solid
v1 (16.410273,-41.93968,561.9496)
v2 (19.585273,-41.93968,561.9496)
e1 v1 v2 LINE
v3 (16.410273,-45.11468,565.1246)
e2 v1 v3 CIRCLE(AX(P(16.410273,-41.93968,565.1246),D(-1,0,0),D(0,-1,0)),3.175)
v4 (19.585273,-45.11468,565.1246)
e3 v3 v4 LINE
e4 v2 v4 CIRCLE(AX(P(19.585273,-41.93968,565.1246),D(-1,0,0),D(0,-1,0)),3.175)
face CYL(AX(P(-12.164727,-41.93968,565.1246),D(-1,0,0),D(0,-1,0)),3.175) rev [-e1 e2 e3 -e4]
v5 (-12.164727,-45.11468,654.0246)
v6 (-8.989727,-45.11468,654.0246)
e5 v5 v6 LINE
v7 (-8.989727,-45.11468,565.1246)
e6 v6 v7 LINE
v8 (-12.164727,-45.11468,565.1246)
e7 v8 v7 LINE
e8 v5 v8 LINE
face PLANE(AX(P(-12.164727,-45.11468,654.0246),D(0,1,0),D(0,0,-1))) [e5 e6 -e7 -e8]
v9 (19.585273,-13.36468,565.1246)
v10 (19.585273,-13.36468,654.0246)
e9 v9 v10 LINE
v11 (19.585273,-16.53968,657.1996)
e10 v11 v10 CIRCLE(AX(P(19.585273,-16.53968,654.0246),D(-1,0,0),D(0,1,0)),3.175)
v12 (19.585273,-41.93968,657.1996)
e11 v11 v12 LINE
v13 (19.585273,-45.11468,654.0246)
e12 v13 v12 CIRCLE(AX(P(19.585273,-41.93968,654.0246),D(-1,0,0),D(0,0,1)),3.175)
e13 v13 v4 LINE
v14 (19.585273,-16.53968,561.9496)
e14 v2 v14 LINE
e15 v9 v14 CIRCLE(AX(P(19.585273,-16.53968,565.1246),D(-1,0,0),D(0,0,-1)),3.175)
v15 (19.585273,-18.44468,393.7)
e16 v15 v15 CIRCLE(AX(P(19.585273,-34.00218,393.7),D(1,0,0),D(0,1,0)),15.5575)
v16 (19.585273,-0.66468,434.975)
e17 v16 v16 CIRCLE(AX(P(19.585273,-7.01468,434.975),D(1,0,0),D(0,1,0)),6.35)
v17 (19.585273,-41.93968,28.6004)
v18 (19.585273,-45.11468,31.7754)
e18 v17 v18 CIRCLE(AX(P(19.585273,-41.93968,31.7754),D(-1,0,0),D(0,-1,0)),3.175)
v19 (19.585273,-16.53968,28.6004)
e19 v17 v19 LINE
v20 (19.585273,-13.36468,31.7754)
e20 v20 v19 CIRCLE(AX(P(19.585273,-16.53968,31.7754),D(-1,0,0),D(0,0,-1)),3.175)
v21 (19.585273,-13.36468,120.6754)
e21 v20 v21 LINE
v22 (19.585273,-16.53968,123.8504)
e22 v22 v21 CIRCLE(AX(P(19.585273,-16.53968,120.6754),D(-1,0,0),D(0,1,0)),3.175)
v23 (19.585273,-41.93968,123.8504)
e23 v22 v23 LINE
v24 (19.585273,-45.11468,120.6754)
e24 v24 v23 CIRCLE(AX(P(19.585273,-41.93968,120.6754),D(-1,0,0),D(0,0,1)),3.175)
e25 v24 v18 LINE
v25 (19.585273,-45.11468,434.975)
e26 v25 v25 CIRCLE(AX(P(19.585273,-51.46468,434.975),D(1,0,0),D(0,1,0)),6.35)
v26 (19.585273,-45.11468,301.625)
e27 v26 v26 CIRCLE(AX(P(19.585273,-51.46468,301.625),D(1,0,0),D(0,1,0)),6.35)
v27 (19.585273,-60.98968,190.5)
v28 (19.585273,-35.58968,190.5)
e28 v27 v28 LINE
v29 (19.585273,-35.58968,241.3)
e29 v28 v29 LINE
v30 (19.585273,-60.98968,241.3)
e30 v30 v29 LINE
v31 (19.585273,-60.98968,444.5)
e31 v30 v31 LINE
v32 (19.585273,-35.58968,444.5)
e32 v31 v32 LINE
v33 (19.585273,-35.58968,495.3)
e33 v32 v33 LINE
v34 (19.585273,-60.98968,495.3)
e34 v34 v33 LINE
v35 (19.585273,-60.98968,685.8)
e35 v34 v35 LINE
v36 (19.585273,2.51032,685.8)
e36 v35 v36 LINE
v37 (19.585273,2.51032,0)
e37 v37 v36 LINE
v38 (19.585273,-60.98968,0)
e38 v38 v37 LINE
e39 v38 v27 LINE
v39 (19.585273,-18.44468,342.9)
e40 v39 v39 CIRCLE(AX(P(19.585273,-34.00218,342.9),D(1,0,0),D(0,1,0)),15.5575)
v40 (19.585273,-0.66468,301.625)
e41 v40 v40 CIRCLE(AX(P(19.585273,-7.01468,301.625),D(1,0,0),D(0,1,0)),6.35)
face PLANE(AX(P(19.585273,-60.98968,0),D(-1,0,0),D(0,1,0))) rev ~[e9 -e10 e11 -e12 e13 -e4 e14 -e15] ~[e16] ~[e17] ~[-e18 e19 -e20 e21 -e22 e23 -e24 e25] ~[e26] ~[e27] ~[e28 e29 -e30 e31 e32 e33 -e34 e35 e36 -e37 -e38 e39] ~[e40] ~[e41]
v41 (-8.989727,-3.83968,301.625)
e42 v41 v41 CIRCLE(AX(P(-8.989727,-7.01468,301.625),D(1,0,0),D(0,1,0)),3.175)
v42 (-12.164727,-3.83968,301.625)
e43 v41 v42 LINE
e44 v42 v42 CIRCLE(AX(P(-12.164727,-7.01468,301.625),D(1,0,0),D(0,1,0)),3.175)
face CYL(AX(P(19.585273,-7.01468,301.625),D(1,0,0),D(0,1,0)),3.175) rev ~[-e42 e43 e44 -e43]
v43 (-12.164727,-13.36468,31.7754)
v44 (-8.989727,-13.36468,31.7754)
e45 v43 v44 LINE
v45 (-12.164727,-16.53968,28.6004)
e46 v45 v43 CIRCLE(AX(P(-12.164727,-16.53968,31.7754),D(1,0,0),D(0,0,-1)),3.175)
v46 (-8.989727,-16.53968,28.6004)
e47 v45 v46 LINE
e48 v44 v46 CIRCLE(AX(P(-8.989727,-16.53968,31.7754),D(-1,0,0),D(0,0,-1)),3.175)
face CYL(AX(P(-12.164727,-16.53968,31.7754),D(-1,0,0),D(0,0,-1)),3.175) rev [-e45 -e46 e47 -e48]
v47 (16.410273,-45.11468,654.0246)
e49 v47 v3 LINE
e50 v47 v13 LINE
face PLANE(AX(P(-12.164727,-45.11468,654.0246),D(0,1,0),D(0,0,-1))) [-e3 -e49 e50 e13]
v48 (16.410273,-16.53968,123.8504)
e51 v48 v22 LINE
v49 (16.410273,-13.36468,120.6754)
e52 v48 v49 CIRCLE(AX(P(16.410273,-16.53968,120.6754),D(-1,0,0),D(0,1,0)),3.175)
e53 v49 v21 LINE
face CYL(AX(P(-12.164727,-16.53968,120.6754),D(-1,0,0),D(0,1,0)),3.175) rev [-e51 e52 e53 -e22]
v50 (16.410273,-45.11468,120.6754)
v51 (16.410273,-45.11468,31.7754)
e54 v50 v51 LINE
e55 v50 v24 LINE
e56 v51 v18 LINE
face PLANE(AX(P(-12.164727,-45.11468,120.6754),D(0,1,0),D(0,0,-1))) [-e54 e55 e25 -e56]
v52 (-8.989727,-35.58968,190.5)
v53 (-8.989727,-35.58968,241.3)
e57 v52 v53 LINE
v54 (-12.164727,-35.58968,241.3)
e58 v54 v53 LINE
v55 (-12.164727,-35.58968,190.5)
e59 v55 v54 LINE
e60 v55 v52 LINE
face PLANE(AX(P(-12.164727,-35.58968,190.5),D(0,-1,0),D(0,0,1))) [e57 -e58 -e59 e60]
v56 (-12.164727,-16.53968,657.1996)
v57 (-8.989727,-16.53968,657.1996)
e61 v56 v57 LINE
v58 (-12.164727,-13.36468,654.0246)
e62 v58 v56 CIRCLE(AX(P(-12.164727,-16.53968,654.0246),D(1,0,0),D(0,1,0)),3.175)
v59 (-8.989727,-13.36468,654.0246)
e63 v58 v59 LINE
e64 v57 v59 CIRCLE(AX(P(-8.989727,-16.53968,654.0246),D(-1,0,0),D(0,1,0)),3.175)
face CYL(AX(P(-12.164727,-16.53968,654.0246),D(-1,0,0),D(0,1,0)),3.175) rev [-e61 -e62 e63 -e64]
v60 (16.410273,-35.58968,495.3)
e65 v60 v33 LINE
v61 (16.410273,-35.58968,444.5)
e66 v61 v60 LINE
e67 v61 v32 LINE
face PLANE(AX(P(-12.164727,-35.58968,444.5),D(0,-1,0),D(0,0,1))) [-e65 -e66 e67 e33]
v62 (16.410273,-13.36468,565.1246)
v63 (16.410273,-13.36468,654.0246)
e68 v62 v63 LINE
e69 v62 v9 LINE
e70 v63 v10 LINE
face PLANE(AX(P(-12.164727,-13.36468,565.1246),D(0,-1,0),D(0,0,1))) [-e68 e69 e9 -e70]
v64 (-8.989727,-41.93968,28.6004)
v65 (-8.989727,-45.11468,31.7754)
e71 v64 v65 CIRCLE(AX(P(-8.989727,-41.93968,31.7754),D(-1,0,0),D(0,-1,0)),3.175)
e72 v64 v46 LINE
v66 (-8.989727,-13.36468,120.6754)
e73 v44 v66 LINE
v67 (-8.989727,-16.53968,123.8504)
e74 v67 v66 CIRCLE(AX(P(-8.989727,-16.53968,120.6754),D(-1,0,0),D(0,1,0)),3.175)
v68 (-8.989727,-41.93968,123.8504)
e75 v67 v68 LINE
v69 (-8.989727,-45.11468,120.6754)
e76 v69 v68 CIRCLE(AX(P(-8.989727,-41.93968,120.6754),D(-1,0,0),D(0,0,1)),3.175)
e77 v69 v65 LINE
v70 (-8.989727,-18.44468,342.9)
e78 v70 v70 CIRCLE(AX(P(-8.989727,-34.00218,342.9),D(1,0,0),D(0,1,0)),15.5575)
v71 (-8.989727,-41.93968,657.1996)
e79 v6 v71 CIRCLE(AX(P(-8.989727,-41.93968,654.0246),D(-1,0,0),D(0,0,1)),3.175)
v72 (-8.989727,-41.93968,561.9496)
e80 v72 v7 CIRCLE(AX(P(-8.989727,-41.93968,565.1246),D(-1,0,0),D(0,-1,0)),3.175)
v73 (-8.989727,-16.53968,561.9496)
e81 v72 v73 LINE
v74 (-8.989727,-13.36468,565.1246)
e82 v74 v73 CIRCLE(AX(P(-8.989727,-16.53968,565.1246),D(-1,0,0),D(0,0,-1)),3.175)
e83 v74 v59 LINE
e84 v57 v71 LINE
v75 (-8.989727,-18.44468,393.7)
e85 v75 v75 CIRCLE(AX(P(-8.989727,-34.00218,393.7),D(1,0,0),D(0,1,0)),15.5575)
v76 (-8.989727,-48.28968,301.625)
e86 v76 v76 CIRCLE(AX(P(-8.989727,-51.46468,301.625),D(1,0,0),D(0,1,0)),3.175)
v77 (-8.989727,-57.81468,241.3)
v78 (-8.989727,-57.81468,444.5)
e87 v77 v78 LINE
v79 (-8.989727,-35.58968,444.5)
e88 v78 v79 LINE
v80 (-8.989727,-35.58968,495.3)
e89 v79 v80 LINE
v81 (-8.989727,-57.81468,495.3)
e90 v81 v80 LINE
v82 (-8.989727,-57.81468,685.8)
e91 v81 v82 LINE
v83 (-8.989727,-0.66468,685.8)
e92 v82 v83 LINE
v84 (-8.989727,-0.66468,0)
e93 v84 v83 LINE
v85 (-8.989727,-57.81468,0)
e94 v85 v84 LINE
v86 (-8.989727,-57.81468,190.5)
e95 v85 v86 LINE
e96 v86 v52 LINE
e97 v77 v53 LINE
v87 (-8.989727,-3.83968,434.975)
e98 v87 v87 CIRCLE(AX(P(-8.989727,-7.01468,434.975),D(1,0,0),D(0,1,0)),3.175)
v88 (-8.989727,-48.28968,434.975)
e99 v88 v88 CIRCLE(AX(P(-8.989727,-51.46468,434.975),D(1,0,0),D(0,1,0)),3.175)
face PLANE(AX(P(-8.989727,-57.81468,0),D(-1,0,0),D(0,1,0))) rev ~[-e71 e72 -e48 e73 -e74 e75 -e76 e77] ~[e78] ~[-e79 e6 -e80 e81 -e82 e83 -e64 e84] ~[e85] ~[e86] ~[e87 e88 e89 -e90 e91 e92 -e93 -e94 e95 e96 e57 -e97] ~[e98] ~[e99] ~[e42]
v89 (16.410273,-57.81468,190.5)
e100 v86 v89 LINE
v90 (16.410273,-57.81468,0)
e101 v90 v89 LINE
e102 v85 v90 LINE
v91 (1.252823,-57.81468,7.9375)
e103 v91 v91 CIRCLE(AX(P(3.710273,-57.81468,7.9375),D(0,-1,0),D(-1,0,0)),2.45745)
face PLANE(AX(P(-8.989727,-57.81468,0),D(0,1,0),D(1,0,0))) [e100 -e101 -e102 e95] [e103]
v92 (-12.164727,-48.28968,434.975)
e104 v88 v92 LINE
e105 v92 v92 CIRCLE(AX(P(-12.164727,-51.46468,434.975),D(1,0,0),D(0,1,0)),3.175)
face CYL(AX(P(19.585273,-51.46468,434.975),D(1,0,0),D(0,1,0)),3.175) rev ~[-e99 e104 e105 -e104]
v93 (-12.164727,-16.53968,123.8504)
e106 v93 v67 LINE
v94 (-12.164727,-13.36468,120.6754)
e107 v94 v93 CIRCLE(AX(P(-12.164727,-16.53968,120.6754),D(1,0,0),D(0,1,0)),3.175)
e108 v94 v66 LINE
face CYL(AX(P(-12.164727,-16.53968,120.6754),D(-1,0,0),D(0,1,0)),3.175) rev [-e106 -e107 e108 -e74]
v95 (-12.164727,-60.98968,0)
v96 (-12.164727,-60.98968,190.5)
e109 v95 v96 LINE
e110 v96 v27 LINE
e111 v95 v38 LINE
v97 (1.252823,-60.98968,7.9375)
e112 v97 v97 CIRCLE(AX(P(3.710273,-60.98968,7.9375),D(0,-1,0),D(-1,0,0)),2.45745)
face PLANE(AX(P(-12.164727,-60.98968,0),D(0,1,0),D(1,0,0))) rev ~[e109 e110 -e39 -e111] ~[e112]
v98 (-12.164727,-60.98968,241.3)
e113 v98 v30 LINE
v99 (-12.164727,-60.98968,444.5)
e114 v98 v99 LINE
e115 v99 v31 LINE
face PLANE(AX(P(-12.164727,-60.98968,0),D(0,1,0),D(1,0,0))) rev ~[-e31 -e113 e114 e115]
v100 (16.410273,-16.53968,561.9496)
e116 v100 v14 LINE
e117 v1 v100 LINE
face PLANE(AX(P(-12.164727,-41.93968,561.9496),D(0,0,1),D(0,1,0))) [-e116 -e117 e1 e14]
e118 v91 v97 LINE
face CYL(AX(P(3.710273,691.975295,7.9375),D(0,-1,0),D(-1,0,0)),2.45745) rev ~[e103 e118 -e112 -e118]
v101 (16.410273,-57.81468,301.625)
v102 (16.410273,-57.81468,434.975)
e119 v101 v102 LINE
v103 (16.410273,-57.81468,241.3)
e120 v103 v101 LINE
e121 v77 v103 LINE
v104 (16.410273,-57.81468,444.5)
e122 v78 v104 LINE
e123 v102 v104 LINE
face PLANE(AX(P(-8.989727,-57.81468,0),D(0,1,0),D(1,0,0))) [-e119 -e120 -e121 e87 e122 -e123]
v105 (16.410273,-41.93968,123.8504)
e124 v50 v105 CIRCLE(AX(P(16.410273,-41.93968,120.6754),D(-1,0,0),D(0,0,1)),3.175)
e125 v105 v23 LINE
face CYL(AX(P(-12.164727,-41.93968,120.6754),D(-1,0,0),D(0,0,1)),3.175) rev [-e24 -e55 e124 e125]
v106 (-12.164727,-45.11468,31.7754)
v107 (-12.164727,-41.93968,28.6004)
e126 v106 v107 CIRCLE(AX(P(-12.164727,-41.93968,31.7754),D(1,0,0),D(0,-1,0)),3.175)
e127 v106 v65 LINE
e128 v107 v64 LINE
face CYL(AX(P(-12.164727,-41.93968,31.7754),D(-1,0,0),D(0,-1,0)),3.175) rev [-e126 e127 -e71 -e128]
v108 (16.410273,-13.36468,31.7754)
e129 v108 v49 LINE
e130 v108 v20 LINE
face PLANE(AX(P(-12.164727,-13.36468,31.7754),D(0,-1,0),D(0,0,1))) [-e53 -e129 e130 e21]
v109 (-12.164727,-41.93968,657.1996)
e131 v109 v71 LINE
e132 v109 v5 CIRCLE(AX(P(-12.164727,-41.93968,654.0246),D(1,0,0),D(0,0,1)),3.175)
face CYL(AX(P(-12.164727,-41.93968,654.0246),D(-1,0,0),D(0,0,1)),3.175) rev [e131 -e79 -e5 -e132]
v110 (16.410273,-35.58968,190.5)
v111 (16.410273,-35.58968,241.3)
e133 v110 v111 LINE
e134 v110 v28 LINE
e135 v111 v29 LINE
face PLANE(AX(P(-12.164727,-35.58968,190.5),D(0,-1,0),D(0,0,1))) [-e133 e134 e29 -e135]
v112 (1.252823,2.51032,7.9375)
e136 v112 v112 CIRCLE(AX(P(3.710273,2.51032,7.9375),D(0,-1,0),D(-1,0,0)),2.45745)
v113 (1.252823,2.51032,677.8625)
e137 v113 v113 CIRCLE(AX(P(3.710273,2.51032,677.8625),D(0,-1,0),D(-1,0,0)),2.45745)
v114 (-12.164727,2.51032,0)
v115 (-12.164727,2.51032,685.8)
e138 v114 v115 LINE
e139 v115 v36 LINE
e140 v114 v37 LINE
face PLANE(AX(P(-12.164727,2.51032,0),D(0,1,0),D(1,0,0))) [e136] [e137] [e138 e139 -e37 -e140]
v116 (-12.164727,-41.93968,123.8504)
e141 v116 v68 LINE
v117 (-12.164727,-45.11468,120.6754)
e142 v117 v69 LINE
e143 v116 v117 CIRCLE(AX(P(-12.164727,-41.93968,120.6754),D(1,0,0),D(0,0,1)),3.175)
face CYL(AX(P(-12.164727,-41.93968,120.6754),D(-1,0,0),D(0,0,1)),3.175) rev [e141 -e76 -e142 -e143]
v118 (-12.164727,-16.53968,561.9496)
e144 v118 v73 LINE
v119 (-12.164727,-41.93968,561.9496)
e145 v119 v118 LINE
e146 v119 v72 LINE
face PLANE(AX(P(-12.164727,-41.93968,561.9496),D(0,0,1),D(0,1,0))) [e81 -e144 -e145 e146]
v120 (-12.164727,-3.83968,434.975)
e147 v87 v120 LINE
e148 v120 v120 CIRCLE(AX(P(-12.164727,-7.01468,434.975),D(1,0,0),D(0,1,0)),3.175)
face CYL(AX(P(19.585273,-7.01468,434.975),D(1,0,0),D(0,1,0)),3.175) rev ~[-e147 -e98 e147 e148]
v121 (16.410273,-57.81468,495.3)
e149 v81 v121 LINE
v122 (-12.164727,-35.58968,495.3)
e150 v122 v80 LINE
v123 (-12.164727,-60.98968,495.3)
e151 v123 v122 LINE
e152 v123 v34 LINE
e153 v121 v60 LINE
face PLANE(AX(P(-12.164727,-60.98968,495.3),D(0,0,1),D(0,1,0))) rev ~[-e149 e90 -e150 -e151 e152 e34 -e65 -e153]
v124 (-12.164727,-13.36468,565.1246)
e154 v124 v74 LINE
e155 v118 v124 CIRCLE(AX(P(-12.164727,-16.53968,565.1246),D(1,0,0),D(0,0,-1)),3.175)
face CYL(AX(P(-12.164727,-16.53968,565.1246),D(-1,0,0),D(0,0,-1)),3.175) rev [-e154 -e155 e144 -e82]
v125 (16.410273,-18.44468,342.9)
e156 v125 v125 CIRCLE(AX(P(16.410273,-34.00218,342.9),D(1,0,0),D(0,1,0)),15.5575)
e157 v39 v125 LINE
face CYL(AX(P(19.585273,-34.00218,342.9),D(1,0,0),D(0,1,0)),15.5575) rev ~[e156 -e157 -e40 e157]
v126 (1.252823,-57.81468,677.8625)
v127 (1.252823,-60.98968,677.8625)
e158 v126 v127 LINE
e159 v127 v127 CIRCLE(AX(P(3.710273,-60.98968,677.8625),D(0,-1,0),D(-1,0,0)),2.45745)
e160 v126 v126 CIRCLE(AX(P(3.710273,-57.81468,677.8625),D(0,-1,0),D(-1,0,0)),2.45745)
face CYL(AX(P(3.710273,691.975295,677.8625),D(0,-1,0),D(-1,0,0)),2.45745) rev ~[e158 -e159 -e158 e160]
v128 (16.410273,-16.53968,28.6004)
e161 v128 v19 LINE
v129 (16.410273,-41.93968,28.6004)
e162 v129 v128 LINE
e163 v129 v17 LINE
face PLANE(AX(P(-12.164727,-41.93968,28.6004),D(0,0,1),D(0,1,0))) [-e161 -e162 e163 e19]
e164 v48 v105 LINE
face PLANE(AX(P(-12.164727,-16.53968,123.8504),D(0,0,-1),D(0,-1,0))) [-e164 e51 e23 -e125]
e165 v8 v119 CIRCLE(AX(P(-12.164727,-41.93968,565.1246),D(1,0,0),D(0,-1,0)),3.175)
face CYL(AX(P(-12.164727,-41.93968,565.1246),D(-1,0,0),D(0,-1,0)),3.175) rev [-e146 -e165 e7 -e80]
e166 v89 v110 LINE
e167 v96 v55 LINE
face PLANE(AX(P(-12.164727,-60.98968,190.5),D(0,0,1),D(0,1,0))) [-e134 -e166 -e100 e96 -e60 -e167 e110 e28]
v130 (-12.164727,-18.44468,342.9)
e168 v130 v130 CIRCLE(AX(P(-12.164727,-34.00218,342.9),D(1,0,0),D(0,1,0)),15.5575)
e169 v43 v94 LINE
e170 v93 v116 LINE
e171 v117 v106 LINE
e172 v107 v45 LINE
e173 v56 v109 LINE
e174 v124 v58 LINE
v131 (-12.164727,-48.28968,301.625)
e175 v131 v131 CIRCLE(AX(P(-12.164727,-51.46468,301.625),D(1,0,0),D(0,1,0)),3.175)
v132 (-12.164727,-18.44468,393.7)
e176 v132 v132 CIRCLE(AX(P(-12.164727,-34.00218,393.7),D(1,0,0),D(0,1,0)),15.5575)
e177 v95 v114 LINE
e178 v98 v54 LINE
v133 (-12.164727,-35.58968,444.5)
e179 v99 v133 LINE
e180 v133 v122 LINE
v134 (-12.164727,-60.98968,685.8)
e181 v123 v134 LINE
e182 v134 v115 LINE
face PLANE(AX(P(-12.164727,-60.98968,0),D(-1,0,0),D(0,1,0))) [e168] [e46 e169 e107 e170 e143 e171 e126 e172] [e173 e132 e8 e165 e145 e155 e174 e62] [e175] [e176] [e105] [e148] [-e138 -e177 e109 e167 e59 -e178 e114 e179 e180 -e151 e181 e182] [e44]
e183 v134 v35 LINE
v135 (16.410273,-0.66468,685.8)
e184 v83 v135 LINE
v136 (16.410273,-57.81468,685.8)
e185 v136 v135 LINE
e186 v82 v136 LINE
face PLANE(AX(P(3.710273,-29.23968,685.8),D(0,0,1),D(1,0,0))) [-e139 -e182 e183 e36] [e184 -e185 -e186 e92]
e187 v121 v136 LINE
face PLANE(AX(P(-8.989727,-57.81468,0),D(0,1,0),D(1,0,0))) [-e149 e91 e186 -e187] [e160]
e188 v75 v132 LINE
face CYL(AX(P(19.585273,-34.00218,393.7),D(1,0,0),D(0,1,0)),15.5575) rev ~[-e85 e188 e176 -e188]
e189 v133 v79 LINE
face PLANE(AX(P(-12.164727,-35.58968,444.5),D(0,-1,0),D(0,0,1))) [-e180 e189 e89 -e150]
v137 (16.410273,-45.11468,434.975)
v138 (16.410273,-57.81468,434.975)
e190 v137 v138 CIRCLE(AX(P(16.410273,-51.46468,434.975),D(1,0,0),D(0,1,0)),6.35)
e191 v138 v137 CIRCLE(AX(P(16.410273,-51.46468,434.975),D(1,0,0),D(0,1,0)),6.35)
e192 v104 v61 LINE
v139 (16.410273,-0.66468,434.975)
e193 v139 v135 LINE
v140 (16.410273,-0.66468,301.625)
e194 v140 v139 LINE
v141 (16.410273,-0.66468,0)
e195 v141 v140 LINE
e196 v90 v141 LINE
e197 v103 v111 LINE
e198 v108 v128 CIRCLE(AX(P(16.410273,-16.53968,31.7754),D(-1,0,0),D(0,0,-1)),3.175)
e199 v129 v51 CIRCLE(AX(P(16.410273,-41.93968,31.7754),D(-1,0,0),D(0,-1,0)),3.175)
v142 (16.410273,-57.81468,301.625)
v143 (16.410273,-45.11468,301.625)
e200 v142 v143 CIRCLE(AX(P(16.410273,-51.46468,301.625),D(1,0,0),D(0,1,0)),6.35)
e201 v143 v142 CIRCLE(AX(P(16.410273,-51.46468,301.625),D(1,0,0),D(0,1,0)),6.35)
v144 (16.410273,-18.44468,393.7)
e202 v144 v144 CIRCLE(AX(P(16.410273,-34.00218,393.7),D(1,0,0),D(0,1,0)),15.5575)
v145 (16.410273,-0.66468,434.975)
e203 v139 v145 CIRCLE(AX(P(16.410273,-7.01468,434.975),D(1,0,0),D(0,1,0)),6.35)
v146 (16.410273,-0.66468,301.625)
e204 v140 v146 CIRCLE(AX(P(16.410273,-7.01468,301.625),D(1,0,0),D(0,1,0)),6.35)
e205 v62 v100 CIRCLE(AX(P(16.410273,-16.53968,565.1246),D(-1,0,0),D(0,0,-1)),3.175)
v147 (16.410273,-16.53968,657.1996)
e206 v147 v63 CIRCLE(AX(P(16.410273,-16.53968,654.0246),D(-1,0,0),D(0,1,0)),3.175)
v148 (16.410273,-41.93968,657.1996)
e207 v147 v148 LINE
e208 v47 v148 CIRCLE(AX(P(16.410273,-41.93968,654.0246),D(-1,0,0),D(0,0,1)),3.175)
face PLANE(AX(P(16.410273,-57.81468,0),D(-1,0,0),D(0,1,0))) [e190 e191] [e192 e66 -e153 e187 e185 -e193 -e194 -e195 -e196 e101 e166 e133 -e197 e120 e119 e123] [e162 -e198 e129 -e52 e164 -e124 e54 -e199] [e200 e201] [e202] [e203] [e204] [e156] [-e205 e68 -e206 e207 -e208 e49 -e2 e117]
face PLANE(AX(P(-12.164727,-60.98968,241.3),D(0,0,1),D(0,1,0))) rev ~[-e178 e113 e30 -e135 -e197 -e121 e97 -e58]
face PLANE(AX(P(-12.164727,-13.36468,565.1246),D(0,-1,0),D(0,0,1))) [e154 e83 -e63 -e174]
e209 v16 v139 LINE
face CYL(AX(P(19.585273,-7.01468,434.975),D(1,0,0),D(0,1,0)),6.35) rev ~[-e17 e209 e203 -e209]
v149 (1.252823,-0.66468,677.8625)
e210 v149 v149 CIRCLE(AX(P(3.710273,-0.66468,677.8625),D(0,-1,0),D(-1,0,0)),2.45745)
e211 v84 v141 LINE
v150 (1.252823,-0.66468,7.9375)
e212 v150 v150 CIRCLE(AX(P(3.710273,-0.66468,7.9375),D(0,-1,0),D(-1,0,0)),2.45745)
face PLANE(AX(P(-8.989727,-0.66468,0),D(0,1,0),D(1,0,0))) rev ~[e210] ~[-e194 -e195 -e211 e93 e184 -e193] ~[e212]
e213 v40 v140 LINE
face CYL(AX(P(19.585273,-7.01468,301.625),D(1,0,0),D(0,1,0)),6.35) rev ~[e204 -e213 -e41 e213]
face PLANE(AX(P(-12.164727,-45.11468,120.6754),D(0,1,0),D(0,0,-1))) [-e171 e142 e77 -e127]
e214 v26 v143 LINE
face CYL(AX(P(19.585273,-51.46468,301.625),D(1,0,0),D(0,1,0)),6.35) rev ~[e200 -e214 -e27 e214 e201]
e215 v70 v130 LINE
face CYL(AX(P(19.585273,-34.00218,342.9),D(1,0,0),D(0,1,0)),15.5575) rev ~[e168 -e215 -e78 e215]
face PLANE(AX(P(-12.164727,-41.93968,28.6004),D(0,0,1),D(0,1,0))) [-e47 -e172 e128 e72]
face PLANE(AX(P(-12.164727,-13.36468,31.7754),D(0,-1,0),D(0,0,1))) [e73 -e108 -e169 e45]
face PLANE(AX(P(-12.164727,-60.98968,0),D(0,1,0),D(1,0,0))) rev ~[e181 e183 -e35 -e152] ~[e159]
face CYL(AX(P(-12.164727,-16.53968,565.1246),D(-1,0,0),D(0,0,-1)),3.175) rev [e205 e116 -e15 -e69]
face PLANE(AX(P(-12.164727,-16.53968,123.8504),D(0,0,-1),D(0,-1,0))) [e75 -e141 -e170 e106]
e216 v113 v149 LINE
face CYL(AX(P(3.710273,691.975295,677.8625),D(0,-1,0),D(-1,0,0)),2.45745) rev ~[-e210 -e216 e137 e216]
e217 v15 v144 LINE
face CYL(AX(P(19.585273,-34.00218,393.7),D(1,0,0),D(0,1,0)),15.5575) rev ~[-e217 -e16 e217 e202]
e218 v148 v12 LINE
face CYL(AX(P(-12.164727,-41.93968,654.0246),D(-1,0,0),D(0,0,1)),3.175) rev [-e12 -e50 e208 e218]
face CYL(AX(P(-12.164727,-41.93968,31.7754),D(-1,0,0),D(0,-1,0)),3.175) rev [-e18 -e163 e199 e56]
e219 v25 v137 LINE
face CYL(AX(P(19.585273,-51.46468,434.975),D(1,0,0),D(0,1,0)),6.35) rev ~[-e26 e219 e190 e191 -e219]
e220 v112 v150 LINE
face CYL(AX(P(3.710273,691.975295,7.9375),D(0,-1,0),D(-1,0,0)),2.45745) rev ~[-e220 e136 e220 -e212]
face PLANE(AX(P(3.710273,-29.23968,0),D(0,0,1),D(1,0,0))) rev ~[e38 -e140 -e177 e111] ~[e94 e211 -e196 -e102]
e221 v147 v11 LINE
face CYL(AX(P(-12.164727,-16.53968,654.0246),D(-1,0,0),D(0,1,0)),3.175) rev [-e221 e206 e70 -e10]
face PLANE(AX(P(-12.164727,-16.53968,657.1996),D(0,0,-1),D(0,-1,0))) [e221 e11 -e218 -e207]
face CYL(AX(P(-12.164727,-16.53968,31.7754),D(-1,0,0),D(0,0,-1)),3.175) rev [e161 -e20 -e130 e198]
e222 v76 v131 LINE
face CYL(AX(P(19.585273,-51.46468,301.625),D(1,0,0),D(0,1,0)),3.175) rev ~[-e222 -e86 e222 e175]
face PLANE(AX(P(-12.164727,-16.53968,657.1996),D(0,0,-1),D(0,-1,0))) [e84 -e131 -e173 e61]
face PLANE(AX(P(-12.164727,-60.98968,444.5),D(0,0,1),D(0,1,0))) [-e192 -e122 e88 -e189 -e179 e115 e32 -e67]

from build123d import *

# Parameters (mm, degrees)
SKETCH1_W                    = 31.75
SKETCH1_H                    = 63.5
SKETCH1_W_2                  = 25.4
SKETCH1_H_2                  = 57.15
BOSS_EXTRUDE1_DEPTH          = 685.8
CUT_EXTRUDE1_REACH           = 691.238
SKETCH3_W                    = 50.8
SKETCH3_H                    = 25.4
F_10_0_1935_DIAMETER_HOLE1_D = 4.9149
CUT_EXTRUDE2_REACH           = 691.238
SKETCH6_R                    = 15.5575
SKETCH6_R_2                  = 3.175
CUT_EXTRUDE3_REACH           = 691.238
SKETCH7_R                    = 6.35


with BuildPart() as part:
    # Sketch1 → Boss-Extrude1 (new body)
    with BuildSketch(Plane.XY):
        with Locations((3.710272719, -29.23968021)):
            Rectangle(SKETCH1_W, SKETCH1_H)
        with Locations((3.710272719, -29.23968021)):
            Rectangle(SKETCH1_W_2, SKETCH1_H_2, mode=Mode.SUBTRACT)
    extrude(amount=BOSS_EXTRUDE1_DEPTH)

    # Cut-Extrude1: up to this face of the body (flat: up to its plane)
    cut_extrude1_end = Plane(part.part.faces().sort_by_distance((19.585272719, -29.23968021, 342.9))[0])
    # Sketch3 → Cut-Extrude1 (cut, up to the picked face)
    with BuildSketch(Plane.ZY.offset(12.164727281), mode=Mode.PRIVATE) as cut_extrude1_sk1:
        with BuildLine():
            Line((31.7754, -13.36468021), (120.6754, -13.36468021))
            ThreePointArc((120.6754, -13.36468021), (122.92046403, -14.294616179), (123.8504, -16.53968021))
            Line((123.8504, -16.53968021), (123.8504, -41.93968021))
            ThreePointArc((123.8504, -41.93968021), (122.92046403, -44.18474424), (120.6754, -45.11468021))
            Line((120.6754, -45.11468021), (31.7754, -45.11468021))
            ThreePointArc((31.7754, -45.11468021), (29.53033597, -44.18474424), (28.6004, -41.93968021))
            Line((28.6004, -41.93968021), (28.6004, -16.53968021))
            ThreePointArc((28.6004, -16.53968021), (29.53033597, -14.294616179), (31.7754, -13.36468021))
        make_face()
    cut_extrude1_tool1 = split(extrude(cut_extrude1_sk1.sketch, amount=-CUT_EXTRUDE1_REACH, mode=Mode.PRIVATE), bisect_by=cut_extrude1_end, keep=Keep.BOTH, mode=Mode.PRIVATE)
    # Sketch3 → Cut-Extrude1 (cut, up to the picked face)
    with BuildSketch(Plane.ZY.offset(12.164727281), mode=Mode.PRIVATE) as cut_extrude1_sk2:
        with BuildLine():
            ThreePointArc((657.1996, -41.93968021), (656.26966403, -44.18474424), (654.0246, -45.11468021))
            Line((654.0246, -45.11468021), (565.1246, -45.11468021))
            ThreePointArc((565.1246, -45.11468021), (562.87953597, -44.18474424), (561.9496, -41.93968021))
            Line((561.9496, -41.93968021), (561.9496, -16.53968021))
            ThreePointArc((561.9496, -16.53968021), (562.87953597, -14.294616179), (565.1246, -13.36468021))
            Line((565.1246, -13.36468021), (654.0246, -13.36468021))
            ThreePointArc((654.0246, -13.36468021), (656.26966403, -14.294616179), (657.1996, -16.53968021))
            Line((657.1996, -16.53968021), (657.1996, -41.93968021))
        make_face()
    cut_extrude1_tool2 = split(extrude(cut_extrude1_sk2.sketch, amount=-CUT_EXTRUDE1_REACH, mode=Mode.PRIVATE), bisect_by=cut_extrude1_end, keep=Keep.BOTH, mode=Mode.PRIVATE)
    # Sketch3 → Cut-Extrude1 (cut, up to the picked face)
    with BuildSketch(Plane.ZY.offset(12.164727281), mode=Mode.PRIVATE) as cut_extrude1_sk3:
        with Locations((215.9, -48.28968021)):
            Rectangle(SKETCH3_W, SKETCH3_H)
    cut_extrude1_tool3 = split(extrude(cut_extrude1_sk3.sketch, amount=-CUT_EXTRUDE1_REACH, mode=Mode.PRIVATE), bisect_by=cut_extrude1_end, keep=Keep.BOTH, mode=Mode.PRIVATE)
    # Sketch3 → Cut-Extrude1 (cut, up to the picked face)
    with BuildSketch(Plane.ZY.offset(12.164727281), mode=Mode.PRIVATE) as cut_extrude1_sk4:
        with Locations((469.9, -48.28968021)):
            Rectangle(SKETCH3_W, SKETCH3_H)
    cut_extrude1_tool4 = split(extrude(cut_extrude1_sk4.sketch, amount=-CUT_EXTRUDE1_REACH, mode=Mode.PRIVATE), bisect_by=cut_extrude1_end, keep=Keep.BOTH, mode=Mode.PRIVATE)
    add(cut_extrude1_tool1.solids().sort_by(Axis((-12.164727, -29.23968, 76.2254), (1, 0, 0)))[0], mode=Mode.SUBTRACT)
    add(cut_extrude1_tool2.solids().sort_by(Axis((-12.164727, -29.23968, 609.5746), (1, 0, 0)))[0], mode=Mode.SUBTRACT)
    add(cut_extrude1_tool3.solids().sort_by(Axis((-12.164727, -48.28968, 215.9), (1, 0, 0)))[0], mode=Mode.SUBTRACT)
    add(cut_extrude1_tool4.solids().sort_by(Axis((-12.164727, -48.28968, 469.9), (1, 0, 0)))[0], mode=Mode.SUBTRACT)

    # #10 (0.1935) Diameter Hole1 (through all)
    with Locations(Plane(origin=(3.710272719, 2.51031979, 677.8625), x_dir=(1, 0, 0), z_dir=(0, 1, 0))):
        with Locations((0, 0), (0, 669.925)):
            Hole(F_10_0_1935_DIAMETER_HOLE1_D / 2)

    # Cut-Extrude2: up to this face of the body (flat: up to its plane)
    cut_extrude2_end = Plane(part.part.faces().sort_by_distance((-12.164727281, -27.832525424, 342.9))[0])
    # Sketch6 → Cut-Extrude2 (cut, up to the picked face)
    with BuildSketch(Plane(origin=(19.585272719, 0, 0), x_dir=(0, 0, -1), z_dir=(1, 0, 0)), mode=Mode.PRIVATE) as cut_extrude2_sk1:
        with Locations(Location((-342.9, -34.00218021, 0), (0, 0, 90))):
            Circle(SKETCH6_R)
    cut_extrude2_tool1 = split(extrude(cut_extrude2_sk1.sketch, amount=-CUT_EXTRUDE2_REACH, mode=Mode.PRIVATE), bisect_by=cut_extrude2_end, keep=Keep.BOTH, mode=Mode.PRIVATE)
    # Sketch6 → Cut-Extrude2 (cut, up to the picked face)
    with BuildSketch(Plane(origin=(19.585272719, 0, 0), x_dir=(0, 0, -1), z_dir=(1, 0, 0)), mode=Mode.PRIVATE) as cut_extrude2_sk2:
        with Locations(Location((-393.7, -34.00218021, 0), (0, 0, 90))):
            Circle(SKETCH6_R)
    cut_extrude2_tool2 = split(extrude(cut_extrude2_sk2.sketch, amount=-CUT_EXTRUDE2_REACH, mode=Mode.PRIVATE), bisect_by=cut_extrude2_end, keep=Keep.BOTH, mode=Mode.PRIVATE)
    # Sketch6 → Cut-Extrude2 (cut, up to the picked face)
    with BuildSketch(Plane(origin=(19.585272719, 0, 0), x_dir=(0, 0, -1), z_dir=(1, 0, 0)), mode=Mode.PRIVATE) as cut_extrude2_sk3:
        with Locations(Location((-434.975, -7.01468021, 0), (0, 0, 90))):
            Circle(SKETCH6_R_2)
    cut_extrude2_tool3 = split(extrude(cut_extrude2_sk3.sketch, amount=-CUT_EXTRUDE2_REACH, mode=Mode.PRIVATE), bisect_by=cut_extrude2_end, keep=Keep.BOTH, mode=Mode.PRIVATE)
    # Sketch6 → Cut-Extrude2 (cut, up to the picked face)
    with BuildSketch(Plane(origin=(19.585272719, 0, 0), x_dir=(0, 0, -1), z_dir=(1, 0, 0)), mode=Mode.PRIVATE) as cut_extrude2_sk4:
        with Locations(Location((-301.625, -7.01468021, 0), (0, 0, 90))):
            Circle(SKETCH6_R_2)
    cut_extrude2_tool4 = split(extrude(cut_extrude2_sk4.sketch, amount=-CUT_EXTRUDE2_REACH, mode=Mode.PRIVATE), bisect_by=cut_extrude2_end, keep=Keep.BOTH, mode=Mode.PRIVATE)
    # Sketch6 → Cut-Extrude2 (cut, up to the picked face)
    with BuildSketch(Plane(origin=(19.585272719, 0, 0), x_dir=(0, 0, -1), z_dir=(1, 0, 0)), mode=Mode.PRIVATE) as cut_extrude2_sk5:
        with Locations(Location((-434.975, -51.46468021, 0), (0, 0, 90))):
            Circle(SKETCH6_R_2)
    cut_extrude2_tool5 = split(extrude(cut_extrude2_sk5.sketch, amount=-CUT_EXTRUDE2_REACH, mode=Mode.PRIVATE), bisect_by=cut_extrude2_end, keep=Keep.BOTH, mode=Mode.PRIVATE)
    # Sketch6 → Cut-Extrude2 (cut, up to the picked face)
    with BuildSketch(Plane(origin=(19.585272719, 0, 0), x_dir=(0, 0, -1), z_dir=(1, 0, 0)), mode=Mode.PRIVATE) as cut_extrude2_sk6:
        with Locations(Location((-301.625, -51.46468021, 0), (0, 0, 90))):
            Circle(SKETCH6_R_2)
    cut_extrude2_tool6 = split(extrude(cut_extrude2_sk6.sketch, amount=-CUT_EXTRUDE2_REACH, mode=Mode.PRIVATE), bisect_by=cut_extrude2_end, keep=Keep.BOTH, mode=Mode.PRIVATE)
    add(cut_extrude2_tool1.solids().sort_by(Axis((19.585273, -34.00218, 342.9), (-1, 0, 0)))[0], mode=Mode.SUBTRACT)
    add(cut_extrude2_tool2.solids().sort_by(Axis((19.585273, -34.00218, 393.7), (-1, 0, 0)))[0], mode=Mode.SUBTRACT)
    add(cut_extrude2_tool3.solids().sort_by(Axis((19.585273, -7.01468, 434.975), (-1, 0, 0)))[0], mode=Mode.SUBTRACT)
    add(cut_extrude2_tool4.solids().sort_by(Axis((19.585273, -7.01468, 301.625), (-1, 0, 0)))[0], mode=Mode.SUBTRACT)
    add(cut_extrude2_tool5.solids().sort_by(Axis((19.585273, -51.46468, 434.975), (-1, 0, 0)))[0], mode=Mode.SUBTRACT)
    add(cut_extrude2_tool6.solids().sort_by(Axis((19.585273, -51.46468, 301.625), (-1, 0, 0)))[0], mode=Mode.SUBTRACT)

    # Sketch7 → Cut-Extrude3 (cut, up to next)
    with BuildSketch(Plane(origin=(19.585272719, 0, 0), x_dir=(0, 0, -1), z_dir=(1, 0, 0)), mode=Mode.PRIVATE) as cut_extrude3_sk1:
        with Locations(Location((-434.975, -7.01468021, 0), (0, 0, 90))):
            Circle(SKETCH7_R)
    cut_extrude3_tool1 = extrude(cut_extrude3_sk1.sketch, amount=-CUT_EXTRUDE3_REACH, mode=Mode.PRIVATE) & part.part
    # Sketch7 → Cut-Extrude3 (cut, up to next)
    with BuildSketch(Plane(origin=(19.585272719, 0, 0), x_dir=(0, 0, -1), z_dir=(1, 0, 0)), mode=Mode.PRIVATE) as cut_extrude3_sk2:
        with Locations(Location((-434.975, -51.46468021, 0), (0, 0, 90))):
            Circle(SKETCH7_R)
    cut_extrude3_tool2 = extrude(cut_extrude3_sk2.sketch, amount=-CUT_EXTRUDE3_REACH, mode=Mode.PRIVATE) & part.part
    # Sketch7 → Cut-Extrude3 (cut, up to next)
    with BuildSketch(Plane(origin=(19.585272719, 0, 0), x_dir=(0, 0, -1), z_dir=(1, 0, 0)), mode=Mode.PRIVATE) as cut_extrude3_sk3:
        with Locations(Location((-301.625, -51.46468021, 0), (0, 0, 90))):
            Circle(SKETCH7_R)
    cut_extrude3_tool3 = extrude(cut_extrude3_sk3.sketch, amount=-CUT_EXTRUDE3_REACH, mode=Mode.PRIVATE) & part.part
    # Sketch7 → Cut-Extrude3 (cut, up to next)
    with BuildSketch(Plane(origin=(19.585272719, 0, 0), x_dir=(0, 0, -1), z_dir=(1, 0, 0)), mode=Mode.PRIVATE) as cut_extrude3_sk4:
        with Locations(Location((-301.625, -7.01468021, 0), (0, 0, 90))):
            Circle(SKETCH7_R)
    cut_extrude3_tool4 = extrude(cut_extrude3_sk4.sketch, amount=-CUT_EXTRUDE3_REACH, mode=Mode.PRIVATE) & part.part
    add(cut_extrude3_tool1.solids().sort_by_distance((19.585273, -7.01468, 434.975))[0], mode=Mode.SUBTRACT)
    add(cut_extrude3_tool2.solids().sort_by_distance((19.585273, -51.46468, 434.975))[0], mode=Mode.SUBTRACT)
    add(cut_extrude3_tool3.solids().sort_by_distance((19.585273, -51.46468, 301.625))[0], mode=Mode.SUBTRACT)
    add(cut_extrude3_tool4.solids().sort_by_distance((19.585273, -7.01468, 301.625))[0], mode=Mode.SUBTRACT)


solid = part.part
